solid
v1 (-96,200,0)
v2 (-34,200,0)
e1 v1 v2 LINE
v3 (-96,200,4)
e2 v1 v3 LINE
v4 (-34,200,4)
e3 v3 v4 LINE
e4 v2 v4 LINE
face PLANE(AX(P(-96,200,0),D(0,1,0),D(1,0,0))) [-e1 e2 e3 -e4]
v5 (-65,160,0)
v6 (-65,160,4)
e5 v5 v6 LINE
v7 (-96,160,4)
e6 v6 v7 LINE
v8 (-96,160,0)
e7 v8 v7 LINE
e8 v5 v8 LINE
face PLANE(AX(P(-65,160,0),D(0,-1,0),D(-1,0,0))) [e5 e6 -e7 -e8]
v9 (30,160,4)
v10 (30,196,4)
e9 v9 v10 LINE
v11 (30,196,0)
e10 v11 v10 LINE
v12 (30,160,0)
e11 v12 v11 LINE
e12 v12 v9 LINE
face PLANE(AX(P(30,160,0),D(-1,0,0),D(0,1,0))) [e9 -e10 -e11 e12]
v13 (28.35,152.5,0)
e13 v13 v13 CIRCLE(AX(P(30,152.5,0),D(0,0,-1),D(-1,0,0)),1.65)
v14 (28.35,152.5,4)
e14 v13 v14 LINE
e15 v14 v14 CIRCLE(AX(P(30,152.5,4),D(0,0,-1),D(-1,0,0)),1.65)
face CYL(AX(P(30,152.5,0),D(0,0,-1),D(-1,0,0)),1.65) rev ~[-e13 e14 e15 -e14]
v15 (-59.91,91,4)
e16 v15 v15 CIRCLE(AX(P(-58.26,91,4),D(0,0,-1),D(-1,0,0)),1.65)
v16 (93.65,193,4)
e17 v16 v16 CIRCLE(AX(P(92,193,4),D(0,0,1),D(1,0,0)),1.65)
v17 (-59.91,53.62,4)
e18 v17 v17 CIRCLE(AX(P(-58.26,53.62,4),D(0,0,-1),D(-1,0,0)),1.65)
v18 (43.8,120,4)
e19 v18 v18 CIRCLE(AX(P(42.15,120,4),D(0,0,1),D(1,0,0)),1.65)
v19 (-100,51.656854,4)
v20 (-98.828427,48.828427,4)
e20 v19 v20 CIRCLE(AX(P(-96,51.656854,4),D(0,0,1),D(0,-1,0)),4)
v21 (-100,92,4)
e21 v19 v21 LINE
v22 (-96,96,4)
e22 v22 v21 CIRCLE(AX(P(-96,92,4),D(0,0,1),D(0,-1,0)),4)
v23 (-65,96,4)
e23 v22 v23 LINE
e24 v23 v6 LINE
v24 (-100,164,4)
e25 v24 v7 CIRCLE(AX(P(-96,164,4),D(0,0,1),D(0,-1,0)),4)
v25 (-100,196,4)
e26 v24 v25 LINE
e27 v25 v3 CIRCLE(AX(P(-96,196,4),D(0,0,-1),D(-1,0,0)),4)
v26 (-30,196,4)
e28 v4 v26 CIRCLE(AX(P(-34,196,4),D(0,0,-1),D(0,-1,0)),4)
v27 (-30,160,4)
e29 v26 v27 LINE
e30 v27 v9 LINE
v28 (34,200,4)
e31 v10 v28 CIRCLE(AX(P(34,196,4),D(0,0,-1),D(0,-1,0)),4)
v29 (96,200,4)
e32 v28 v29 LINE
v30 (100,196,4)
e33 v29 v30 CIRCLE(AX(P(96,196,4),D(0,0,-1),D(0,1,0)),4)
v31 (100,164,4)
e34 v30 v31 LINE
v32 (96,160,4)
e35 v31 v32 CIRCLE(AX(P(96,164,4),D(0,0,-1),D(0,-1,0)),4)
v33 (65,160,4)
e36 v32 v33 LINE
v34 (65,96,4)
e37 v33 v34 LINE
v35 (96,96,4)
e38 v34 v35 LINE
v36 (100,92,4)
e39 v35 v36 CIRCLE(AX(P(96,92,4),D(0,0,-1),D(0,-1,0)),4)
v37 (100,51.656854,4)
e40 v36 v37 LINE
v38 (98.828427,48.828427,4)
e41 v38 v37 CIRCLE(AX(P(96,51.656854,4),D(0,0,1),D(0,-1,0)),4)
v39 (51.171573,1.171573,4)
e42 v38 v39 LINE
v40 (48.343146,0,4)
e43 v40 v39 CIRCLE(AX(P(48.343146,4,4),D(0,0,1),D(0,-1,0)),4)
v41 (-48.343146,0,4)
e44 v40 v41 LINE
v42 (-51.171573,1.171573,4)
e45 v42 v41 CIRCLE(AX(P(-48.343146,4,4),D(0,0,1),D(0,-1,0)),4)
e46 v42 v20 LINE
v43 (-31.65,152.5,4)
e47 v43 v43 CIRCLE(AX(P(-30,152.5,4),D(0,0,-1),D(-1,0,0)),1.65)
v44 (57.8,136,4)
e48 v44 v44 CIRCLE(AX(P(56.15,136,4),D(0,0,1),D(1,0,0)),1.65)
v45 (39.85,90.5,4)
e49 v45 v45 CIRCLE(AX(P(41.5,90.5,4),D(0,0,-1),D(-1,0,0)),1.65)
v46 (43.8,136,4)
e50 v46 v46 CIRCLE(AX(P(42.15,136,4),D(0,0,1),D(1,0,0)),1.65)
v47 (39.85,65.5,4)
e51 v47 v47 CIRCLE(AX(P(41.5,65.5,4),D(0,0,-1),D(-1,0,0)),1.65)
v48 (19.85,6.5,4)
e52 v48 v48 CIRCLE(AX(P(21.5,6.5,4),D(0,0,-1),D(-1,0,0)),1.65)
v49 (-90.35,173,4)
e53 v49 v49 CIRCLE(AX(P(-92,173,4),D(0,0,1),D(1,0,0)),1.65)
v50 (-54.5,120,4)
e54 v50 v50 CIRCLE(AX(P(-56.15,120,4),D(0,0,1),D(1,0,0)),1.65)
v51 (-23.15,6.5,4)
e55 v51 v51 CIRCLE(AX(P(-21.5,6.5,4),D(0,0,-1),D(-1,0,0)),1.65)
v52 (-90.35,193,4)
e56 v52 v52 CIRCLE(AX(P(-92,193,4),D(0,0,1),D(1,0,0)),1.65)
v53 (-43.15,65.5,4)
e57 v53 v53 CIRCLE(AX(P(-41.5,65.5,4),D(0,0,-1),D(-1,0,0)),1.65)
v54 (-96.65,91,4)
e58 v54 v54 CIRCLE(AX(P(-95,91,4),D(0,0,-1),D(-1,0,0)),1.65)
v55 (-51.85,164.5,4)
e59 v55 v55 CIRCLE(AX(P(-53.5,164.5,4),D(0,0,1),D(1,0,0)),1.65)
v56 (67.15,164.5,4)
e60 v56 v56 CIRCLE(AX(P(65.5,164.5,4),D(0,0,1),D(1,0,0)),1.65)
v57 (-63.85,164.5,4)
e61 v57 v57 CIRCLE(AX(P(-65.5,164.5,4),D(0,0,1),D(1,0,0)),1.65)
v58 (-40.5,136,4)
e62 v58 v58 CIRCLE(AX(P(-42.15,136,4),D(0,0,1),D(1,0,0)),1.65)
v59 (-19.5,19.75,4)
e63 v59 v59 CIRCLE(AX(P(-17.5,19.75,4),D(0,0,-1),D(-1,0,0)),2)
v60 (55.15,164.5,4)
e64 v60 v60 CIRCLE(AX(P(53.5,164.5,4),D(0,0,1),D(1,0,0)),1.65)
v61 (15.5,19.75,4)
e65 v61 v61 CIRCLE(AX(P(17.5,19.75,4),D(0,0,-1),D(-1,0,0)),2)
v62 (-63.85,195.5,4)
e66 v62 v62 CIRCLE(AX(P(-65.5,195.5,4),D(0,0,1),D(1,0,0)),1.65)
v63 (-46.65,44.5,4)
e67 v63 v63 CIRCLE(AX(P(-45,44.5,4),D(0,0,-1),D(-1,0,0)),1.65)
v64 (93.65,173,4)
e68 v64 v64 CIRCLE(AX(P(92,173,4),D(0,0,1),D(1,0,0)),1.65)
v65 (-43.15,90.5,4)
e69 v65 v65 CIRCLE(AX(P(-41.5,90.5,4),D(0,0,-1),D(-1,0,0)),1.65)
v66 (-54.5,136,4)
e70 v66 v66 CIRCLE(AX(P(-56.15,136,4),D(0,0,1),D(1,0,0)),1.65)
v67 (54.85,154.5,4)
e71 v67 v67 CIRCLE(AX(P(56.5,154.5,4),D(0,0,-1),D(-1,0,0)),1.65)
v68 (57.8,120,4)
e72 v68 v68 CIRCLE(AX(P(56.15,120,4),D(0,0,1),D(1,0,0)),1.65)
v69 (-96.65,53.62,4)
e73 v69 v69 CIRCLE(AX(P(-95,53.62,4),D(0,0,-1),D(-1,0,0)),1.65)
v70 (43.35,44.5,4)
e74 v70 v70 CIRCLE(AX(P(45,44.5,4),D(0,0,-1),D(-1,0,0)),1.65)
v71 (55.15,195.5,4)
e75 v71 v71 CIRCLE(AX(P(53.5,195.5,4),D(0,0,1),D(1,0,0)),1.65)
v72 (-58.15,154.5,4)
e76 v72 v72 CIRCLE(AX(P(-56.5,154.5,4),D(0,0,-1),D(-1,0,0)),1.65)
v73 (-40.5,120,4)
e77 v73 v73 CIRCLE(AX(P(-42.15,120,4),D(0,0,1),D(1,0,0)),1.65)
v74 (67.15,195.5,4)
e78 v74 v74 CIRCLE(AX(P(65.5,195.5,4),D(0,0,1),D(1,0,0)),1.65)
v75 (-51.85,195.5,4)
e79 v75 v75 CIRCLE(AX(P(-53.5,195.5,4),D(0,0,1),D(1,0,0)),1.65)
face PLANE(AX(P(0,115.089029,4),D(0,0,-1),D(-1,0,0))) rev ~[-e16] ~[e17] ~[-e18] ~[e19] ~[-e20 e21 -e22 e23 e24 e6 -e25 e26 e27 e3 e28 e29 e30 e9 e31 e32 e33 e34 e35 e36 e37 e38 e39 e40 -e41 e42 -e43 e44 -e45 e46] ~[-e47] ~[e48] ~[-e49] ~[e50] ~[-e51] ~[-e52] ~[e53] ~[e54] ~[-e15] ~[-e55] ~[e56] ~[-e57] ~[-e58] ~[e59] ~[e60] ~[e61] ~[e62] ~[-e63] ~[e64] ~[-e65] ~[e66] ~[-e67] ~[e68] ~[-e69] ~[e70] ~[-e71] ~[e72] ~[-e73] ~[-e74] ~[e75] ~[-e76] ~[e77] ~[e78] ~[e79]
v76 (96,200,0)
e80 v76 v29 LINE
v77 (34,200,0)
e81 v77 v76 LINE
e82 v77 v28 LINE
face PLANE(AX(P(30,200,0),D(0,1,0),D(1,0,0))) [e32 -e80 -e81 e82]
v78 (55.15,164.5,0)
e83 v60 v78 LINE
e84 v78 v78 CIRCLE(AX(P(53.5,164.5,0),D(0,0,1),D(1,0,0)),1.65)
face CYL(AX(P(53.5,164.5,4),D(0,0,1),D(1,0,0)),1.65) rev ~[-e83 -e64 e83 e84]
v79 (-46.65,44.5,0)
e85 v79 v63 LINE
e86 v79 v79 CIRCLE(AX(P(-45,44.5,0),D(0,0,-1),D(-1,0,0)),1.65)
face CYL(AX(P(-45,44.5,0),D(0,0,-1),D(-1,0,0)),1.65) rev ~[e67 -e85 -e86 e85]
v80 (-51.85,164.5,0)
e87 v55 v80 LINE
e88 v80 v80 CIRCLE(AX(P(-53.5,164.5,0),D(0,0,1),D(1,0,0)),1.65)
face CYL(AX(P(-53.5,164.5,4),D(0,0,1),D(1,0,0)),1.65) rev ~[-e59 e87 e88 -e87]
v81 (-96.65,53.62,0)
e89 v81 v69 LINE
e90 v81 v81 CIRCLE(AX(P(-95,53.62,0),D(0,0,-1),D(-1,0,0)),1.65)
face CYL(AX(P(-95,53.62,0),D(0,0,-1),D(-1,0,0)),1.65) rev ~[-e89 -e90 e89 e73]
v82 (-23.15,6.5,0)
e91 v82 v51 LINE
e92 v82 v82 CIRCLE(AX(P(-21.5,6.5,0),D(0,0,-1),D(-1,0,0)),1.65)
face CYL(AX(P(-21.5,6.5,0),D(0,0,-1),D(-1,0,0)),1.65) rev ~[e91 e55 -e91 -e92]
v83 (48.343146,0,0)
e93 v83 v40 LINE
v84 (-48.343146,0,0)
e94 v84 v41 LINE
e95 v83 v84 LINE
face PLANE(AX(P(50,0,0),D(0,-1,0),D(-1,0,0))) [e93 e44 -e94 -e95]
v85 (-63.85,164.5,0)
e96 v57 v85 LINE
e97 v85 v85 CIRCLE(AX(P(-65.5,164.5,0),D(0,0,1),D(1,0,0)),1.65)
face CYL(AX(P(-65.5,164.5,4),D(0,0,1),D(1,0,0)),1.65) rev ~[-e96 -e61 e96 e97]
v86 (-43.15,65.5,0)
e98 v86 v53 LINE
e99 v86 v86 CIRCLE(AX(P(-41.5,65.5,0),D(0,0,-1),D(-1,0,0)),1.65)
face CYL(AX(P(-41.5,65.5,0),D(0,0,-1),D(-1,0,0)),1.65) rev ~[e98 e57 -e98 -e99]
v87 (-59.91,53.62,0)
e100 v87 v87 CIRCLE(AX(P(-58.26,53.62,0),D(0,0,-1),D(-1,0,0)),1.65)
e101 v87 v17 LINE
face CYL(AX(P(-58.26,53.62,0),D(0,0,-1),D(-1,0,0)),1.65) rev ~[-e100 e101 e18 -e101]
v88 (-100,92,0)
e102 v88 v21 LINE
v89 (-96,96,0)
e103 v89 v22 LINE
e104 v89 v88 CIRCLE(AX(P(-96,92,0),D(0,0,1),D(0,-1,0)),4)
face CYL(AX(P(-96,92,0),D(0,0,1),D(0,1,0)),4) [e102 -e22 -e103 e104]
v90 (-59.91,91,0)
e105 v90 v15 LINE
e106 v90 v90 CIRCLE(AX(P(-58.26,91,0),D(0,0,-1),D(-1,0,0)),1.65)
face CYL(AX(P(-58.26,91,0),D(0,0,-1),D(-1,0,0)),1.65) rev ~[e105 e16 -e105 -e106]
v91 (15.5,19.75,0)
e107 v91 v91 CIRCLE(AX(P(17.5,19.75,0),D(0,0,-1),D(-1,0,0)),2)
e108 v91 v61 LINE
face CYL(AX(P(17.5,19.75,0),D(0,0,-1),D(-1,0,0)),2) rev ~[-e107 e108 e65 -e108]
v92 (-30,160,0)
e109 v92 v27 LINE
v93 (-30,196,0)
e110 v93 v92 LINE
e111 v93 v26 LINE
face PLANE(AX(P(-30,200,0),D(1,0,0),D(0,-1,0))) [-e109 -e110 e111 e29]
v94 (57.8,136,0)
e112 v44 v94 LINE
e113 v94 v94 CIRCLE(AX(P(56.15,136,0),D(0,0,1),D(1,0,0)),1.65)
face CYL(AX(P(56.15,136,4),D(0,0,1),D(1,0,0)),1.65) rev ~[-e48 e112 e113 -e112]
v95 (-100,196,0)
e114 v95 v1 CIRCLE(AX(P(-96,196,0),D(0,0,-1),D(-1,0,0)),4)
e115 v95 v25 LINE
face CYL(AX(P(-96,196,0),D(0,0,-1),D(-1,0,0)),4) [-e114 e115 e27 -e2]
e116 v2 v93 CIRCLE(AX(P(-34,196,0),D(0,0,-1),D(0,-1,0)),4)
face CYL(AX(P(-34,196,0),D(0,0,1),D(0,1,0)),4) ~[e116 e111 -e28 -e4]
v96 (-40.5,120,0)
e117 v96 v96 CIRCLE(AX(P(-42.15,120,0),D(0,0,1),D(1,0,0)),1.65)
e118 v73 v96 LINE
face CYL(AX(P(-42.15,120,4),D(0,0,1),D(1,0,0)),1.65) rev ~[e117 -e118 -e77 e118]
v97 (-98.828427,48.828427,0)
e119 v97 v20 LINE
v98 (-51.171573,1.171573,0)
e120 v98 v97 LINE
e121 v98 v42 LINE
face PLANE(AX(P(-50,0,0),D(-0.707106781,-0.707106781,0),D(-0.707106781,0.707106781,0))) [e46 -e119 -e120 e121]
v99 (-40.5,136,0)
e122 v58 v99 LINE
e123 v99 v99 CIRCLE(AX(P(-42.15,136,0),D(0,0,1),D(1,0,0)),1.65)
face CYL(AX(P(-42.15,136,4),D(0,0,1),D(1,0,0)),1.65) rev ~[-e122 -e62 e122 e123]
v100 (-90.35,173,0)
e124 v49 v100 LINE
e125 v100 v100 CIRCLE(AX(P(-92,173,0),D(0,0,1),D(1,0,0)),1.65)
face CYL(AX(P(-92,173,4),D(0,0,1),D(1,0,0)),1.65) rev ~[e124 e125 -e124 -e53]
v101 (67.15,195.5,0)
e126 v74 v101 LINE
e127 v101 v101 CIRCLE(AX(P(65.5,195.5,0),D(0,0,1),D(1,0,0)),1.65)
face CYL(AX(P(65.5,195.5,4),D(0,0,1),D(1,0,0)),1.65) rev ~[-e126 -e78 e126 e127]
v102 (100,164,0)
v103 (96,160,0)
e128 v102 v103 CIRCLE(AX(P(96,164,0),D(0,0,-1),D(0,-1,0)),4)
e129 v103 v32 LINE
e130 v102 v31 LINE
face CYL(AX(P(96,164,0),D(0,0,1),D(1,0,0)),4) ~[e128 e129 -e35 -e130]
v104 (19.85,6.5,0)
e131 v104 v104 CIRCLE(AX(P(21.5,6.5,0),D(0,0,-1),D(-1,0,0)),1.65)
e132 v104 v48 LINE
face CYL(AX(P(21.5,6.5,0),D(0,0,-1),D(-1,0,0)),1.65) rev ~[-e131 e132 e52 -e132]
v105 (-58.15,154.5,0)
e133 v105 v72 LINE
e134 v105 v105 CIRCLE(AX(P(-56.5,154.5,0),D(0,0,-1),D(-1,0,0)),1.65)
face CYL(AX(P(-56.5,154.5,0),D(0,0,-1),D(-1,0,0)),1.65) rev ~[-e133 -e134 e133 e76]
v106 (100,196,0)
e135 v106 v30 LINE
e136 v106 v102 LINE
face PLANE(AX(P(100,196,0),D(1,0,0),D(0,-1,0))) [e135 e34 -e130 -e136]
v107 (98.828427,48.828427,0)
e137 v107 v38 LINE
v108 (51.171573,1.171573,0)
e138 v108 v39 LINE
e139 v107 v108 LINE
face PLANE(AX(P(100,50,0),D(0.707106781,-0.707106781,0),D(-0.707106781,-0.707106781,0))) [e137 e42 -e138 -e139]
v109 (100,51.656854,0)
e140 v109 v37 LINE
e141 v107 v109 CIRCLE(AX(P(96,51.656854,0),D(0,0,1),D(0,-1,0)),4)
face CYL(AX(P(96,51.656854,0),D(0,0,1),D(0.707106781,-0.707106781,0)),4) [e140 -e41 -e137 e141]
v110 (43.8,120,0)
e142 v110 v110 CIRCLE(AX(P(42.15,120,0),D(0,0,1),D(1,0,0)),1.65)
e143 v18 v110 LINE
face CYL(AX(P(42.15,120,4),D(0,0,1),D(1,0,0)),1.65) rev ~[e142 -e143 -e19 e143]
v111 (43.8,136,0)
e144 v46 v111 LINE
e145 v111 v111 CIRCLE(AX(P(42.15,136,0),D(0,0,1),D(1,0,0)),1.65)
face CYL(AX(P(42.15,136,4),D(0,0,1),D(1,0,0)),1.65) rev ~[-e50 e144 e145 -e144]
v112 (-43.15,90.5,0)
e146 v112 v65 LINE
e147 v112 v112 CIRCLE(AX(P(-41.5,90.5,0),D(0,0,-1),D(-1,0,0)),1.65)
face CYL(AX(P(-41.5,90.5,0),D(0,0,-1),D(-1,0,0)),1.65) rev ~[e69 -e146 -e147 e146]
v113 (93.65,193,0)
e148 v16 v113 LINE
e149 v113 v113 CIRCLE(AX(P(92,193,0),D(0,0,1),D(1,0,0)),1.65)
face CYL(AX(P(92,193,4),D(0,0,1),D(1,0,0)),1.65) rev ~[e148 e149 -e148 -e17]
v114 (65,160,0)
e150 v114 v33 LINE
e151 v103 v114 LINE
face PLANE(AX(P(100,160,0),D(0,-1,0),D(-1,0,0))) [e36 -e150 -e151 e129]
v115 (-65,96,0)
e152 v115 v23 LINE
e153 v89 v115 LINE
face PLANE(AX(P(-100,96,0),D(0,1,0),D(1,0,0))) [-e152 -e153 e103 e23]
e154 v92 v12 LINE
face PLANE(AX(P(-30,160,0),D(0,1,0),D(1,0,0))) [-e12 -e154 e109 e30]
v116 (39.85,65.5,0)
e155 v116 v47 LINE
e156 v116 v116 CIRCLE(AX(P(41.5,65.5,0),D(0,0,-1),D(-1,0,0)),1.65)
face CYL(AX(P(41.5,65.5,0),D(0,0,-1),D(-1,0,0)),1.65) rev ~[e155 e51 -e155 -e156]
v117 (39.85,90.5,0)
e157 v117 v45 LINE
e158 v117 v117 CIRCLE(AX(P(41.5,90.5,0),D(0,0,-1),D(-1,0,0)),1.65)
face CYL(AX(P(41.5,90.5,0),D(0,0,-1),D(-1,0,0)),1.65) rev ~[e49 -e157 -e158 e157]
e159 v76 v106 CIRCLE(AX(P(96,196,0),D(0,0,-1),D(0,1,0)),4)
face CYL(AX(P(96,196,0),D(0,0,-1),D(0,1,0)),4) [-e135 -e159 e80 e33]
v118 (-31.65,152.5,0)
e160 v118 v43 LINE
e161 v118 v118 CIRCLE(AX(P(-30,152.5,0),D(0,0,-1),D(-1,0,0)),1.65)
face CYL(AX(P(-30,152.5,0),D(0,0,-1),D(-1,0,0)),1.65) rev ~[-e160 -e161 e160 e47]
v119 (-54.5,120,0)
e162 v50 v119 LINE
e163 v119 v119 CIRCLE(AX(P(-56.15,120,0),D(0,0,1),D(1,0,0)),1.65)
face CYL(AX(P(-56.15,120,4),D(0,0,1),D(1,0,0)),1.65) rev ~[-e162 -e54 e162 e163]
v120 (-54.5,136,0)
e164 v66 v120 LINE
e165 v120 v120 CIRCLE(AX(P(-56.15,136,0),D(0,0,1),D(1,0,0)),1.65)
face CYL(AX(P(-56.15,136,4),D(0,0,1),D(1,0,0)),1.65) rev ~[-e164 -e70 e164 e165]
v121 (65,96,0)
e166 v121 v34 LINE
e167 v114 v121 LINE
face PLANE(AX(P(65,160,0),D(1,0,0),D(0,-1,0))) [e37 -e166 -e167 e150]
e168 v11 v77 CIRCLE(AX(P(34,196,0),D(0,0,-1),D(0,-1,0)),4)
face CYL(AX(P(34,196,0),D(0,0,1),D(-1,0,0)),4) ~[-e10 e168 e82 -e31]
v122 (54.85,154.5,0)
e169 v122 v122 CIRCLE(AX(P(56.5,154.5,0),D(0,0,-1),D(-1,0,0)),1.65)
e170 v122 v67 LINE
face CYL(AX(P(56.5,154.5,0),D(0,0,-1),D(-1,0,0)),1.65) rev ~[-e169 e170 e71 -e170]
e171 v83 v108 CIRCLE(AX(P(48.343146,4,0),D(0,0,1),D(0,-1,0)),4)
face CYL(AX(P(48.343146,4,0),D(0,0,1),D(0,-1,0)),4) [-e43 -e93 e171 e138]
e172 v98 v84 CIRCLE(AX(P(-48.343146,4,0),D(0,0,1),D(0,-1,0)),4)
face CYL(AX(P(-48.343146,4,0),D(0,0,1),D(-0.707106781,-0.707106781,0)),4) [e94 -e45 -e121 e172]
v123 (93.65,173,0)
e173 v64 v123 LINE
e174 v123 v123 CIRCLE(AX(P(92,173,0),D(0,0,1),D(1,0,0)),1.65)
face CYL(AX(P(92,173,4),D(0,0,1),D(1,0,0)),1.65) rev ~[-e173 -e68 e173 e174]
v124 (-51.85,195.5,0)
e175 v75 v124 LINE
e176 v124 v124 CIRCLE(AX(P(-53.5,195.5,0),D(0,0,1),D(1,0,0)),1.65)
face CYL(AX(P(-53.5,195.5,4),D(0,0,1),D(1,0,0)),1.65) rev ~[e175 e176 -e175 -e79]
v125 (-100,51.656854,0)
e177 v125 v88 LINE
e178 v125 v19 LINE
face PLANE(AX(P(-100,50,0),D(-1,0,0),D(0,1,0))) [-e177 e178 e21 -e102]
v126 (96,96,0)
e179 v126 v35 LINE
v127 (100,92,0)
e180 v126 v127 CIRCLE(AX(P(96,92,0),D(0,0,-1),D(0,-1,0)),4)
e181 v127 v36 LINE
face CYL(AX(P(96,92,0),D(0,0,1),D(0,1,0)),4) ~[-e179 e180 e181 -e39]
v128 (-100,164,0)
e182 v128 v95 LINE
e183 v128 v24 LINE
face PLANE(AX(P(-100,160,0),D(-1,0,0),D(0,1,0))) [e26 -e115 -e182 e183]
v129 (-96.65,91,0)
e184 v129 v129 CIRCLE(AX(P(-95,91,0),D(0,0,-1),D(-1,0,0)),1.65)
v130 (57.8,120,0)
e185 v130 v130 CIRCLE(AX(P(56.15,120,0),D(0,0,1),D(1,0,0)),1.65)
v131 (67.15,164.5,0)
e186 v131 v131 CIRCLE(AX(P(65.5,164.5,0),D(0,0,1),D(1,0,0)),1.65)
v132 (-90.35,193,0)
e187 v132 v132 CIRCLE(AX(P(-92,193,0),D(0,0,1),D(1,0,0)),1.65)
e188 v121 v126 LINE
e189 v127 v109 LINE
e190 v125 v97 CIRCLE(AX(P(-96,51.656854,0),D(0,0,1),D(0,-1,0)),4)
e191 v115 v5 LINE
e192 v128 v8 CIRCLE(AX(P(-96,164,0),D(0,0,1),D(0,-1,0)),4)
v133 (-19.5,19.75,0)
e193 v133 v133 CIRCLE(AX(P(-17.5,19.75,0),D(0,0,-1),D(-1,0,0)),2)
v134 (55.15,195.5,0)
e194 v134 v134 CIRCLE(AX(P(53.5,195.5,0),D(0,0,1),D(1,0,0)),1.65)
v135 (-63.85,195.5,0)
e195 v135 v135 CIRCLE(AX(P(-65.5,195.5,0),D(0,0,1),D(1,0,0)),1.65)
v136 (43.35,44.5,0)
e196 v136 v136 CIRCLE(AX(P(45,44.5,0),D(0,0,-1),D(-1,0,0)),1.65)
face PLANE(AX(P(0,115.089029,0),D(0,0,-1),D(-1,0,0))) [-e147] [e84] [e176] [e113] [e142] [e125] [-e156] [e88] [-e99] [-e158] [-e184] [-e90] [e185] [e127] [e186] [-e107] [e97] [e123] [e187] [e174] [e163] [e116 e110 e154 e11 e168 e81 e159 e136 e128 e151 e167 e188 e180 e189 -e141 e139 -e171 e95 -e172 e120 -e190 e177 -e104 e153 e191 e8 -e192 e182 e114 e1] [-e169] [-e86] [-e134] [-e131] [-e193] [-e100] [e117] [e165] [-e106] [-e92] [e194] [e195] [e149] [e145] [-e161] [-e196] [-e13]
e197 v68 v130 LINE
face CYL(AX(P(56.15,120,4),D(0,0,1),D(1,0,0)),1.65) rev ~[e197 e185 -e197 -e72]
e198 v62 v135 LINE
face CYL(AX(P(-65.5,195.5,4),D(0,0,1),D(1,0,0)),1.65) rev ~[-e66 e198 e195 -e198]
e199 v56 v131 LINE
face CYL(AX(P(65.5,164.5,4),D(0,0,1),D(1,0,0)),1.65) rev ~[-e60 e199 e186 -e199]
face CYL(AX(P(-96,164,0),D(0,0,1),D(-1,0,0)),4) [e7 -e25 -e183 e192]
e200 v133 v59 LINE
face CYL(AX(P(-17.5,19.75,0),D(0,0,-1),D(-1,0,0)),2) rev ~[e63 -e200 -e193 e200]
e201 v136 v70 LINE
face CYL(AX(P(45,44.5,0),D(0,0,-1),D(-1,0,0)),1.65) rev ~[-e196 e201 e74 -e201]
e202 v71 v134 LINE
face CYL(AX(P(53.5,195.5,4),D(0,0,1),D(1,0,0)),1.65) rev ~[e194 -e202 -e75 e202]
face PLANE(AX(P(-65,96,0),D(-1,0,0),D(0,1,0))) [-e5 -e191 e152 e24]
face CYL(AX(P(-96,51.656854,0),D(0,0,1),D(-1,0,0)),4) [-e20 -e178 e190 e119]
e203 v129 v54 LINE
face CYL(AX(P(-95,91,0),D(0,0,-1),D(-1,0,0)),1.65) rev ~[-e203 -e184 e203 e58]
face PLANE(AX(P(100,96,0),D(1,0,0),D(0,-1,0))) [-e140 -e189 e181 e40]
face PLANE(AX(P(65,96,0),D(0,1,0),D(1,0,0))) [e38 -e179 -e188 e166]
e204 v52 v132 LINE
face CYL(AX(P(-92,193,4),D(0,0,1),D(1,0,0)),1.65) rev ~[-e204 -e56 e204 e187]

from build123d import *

# Parameters (mm, degrees)
EXTRUDE_1_DEPTH      = 4
SKETCH_4_R           = 1.65
CUT_EXTRUDE_5_DEPTH  = 10
SKETCH_5_R           = 1.65
CUT_EXTRUDE_6_DEPTH  = 10
SKETCH_6_R           = 1.65
CUT_EXTRUDE_7_DEPTH  = 10
SKETCH_7_R           = 1.65
CUT_EXTRUDE_8_DEPTH  = 10
SKETCH_8_R           = 2
CUT_EXTRUDE_9_DEPTH  = 10
SKETCH_9_R           = 1.65
CUT_EXTRUDE_10_DEPTH = 10
SKETCH_10_R          = 1.65
CUT_EXTRUDE_11_DEPTH = 10
SKETCH_11_R          = 1.65
CUT_EXTRUDE_12_DEPTH = 10
SKETCH_12_R          = 1.65
CUT_EXTRUDE_13_DEPTH = 10
FILLET_1_R           = 4
FILLET_2_R           = 4


with BuildPart() as part:
    # 草图1 → 凸台-拉伸1 (new body)
    with BuildSketch(Plane.XY):
        with BuildLine():
            Line((-96, 200), (-30, 200))
            Line((-30, 200), (-30, 160))
            Line((-30, 160), (30, 160))
            Line((30, 160), (30, 200))
            Line((30, 200), (96, 200))
            ThreePointArc((96, 200), (98.828427125, 198.828427125), (100, 196))
            Line((100, 196), (100, 160))
            Line((100, 160), (65, 160))
            Line((65, 160), (65, 96))
            Line((65, 96), (100, 96))
            Line((100, 96), (100, 50))
            Line((100, 50), (50, 0))
            Line((50, 0), (-50, 0))
            Line((-50, 0), (-100, 50))
            Line((-100, 50), (-100, 96))
            Line((-100, 96), (-65, 96))
            Line((-65, 96), (-65, 160))
            Line((-65, 160), (-100, 160))
            Line((-100, 160), (-100, 196))
            ThreePointArc((-100, 196), (-98.828427125, 198.828427125), (-96, 200))
        make_face()
    extrude(amount=EXTRUDE_1_DEPTH)

    # 草图4 → 切除-拉伸5 (cut)
    with BuildSketch(Plane(origin=(0, 0, 0), x_dir=(-1, 0, 0), z_dir=(0, 0, -1))):
        with Locations((56.5, 154.5)):
            Circle(SKETCH_4_R)
        with Locations((-56.5, 154.5)):
            Circle(SKETCH_4_R)
        with Locations((45, 44.5)):
            Circle(SKETCH_4_R)
        with Locations((-45, 44.5)):
            Circle(SKETCH_4_R)
    extrude(amount=-CUT_EXTRUDE_5_DEPTH, mode=Mode.SUBTRACT)

    # 草图5 → 切除-拉伸6 (cut)
    with BuildSketch(Plane(origin=(0, 0, 0), x_dir=(-1, 0, 0), z_dir=(0, 0, -1))):
        with Locations((41.5, 90.5)):
            Circle(SKETCH_5_R)
        with Locations((-41.5, 90.5)):
            Circle(SKETCH_5_R)
        with Locations((41.5, 65.5)):
            Circle(SKETCH_5_R)
        with Locations((-41.5, 65.5)):
            Circle(SKETCH_5_R)
    extrude(amount=-CUT_EXTRUDE_6_DEPTH, mode=Mode.SUBTRACT)

    # 草图6 → 切除-拉伸7 (cut)
    with BuildSketch(Plane(origin=(0, 0, 0), x_dir=(-1, 0, 0), z_dir=(0, 0, -1))):
        with Locations((58.26, 91)):
            Circle(SKETCH_6_R)
        with Locations((95, 91)):
            Circle(SKETCH_6_R)
        with Locations((58.26, 53.62)):
            Circle(SKETCH_6_R)
        with Locations((95, 53.62)):
            Circle(SKETCH_6_R)
    extrude(amount=-CUT_EXTRUDE_7_DEPTH, mode=Mode.SUBTRACT)

    # 草图7 → 切除-拉伸8 (cut)
    with BuildSketch(Plane(origin=(0, 0, 0), x_dir=(-1, 0, 0), z_dir=(0, 0, -1))):
        with Locations((-21.5, 6.5)):
            Circle(SKETCH_7_R)
        with Locations((21.5, 6.5)):
            Circle(SKETCH_7_R)
    extrude(amount=-CUT_EXTRUDE_8_DEPTH, mode=Mode.SUBTRACT)

    # 草图8 → 切除-拉伸9 (cut)
    with BuildSketch(Plane(origin=(0, 0, 0), x_dir=(-1, 0, 0), z_dir=(0, 0, -1))):
        with Locations((-17.5, 19.75)):
            Circle(SKETCH_8_R)
        with Locations((17.5, 19.75)):
            Circle(SKETCH_8_R)
    extrude(amount=-CUT_EXTRUDE_9_DEPTH, mode=Mode.SUBTRACT)

    # 草图9 → 切除-拉伸10 (cut)
    with BuildSketch(Plane(origin=(0, 0, 0), x_dir=(-1, 0, 0), z_dir=(0, 0, -1))):
        with Locations((-30, 152.5)):
            Circle(SKETCH_9_R)
        with Locations((30, 152.5)):
            Circle(SKETCH_9_R)
    extrude(amount=-CUT_EXTRUDE_10_DEPTH, mode=Mode.SUBTRACT)

    # 草图10 → 切除-拉伸11 (cut)
    with BuildSketch(Plane.XY.offset(4)):
        with Locations((-92, 193)):
            Circle(SKETCH_10_R)
        with Locations((-92, 173)):
            Circle(SKETCH_10_R)
        with Locations((92, 173)):
            Circle(SKETCH_10_R)
        with Locations((92, 193)):
            Circle(SKETCH_10_R)
    extrude(amount=-CUT_EXTRUDE_11_DEPTH, mode=Mode.SUBTRACT)

    # 草图11 → 切除-拉伸12 (cut)
    with BuildSketch(Plane.XY.offset(4)):
        with Locations((65.5, 164.5)):
            Circle(SKETCH_11_R)
        with Locations((53.5, 164.5)):
            Circle(SKETCH_11_R)
        with Locations((53.5, 195.5)):
            Circle(SKETCH_11_R)
        with Locations((65.5, 195.5)):
            Circle(SKETCH_11_R)
        with Locations((-65.5, 195.5)):
            Circle(SKETCH_11_R)
        with Locations((-53.5, 195.5)):
            Circle(SKETCH_11_R)
        with Locations((-53.5, 164.5)):
            Circle(SKETCH_11_R)
        with Locations((-65.5, 164.5)):
            Circle(SKETCH_11_R)
    extrude(amount=-CUT_EXTRUDE_12_DEPTH, mode=Mode.SUBTRACT)

    # 草图12 → 切除-拉伸13 (cut)
    with BuildSketch(Plane.XY.offset(4)):
        with Locations((56.15, 120)):
            Circle(SKETCH_12_R)
        with Locations((42.15, 120)):
            Circle(SKETCH_12_R)
        with Locations((42.15, 136)):
            Circle(SKETCH_12_R)
        with Locations((56.15, 136)):
            Circle(SKETCH_12_R)
        with Locations((-56.15, 136)):
            Circle(SKETCH_12_R)
        with Locations((-42.15, 136)):
            Circle(SKETCH_12_R)
        with Locations((-42.15, 120)):
            Circle(SKETCH_12_R)
        with Locations((-56.15, 120)):
            Circle(SKETCH_12_R)
    extrude(amount=-CUT_EXTRUDE_13_DEPTH, mode=Mode.SUBTRACT)

    # 圆角1
    fillet_1_edges = [part.edges().sort_by_distance(p)[0] for p in [
        (100, 160, 2),
        (100, 96, 2),
        (100, 50, 2),
        (50, 0, 2),
        (-50, 0, 2),
        (-100, 50, 2),
        (-100, 96, 2),
        (-100, 160, 2),
    ]]
    fillet(fillet_1_edges, radius=FILLET_1_R)

    # 圆角2
    fillet_2_edges = [part.edges().sort_by_distance(p)[0] for p in [
        (-30, 200, 2),
        (30, 200, 2),
    ]]
    fillet(fillet_2_edges, radius=FILLET_2_R)


solid = part.part
